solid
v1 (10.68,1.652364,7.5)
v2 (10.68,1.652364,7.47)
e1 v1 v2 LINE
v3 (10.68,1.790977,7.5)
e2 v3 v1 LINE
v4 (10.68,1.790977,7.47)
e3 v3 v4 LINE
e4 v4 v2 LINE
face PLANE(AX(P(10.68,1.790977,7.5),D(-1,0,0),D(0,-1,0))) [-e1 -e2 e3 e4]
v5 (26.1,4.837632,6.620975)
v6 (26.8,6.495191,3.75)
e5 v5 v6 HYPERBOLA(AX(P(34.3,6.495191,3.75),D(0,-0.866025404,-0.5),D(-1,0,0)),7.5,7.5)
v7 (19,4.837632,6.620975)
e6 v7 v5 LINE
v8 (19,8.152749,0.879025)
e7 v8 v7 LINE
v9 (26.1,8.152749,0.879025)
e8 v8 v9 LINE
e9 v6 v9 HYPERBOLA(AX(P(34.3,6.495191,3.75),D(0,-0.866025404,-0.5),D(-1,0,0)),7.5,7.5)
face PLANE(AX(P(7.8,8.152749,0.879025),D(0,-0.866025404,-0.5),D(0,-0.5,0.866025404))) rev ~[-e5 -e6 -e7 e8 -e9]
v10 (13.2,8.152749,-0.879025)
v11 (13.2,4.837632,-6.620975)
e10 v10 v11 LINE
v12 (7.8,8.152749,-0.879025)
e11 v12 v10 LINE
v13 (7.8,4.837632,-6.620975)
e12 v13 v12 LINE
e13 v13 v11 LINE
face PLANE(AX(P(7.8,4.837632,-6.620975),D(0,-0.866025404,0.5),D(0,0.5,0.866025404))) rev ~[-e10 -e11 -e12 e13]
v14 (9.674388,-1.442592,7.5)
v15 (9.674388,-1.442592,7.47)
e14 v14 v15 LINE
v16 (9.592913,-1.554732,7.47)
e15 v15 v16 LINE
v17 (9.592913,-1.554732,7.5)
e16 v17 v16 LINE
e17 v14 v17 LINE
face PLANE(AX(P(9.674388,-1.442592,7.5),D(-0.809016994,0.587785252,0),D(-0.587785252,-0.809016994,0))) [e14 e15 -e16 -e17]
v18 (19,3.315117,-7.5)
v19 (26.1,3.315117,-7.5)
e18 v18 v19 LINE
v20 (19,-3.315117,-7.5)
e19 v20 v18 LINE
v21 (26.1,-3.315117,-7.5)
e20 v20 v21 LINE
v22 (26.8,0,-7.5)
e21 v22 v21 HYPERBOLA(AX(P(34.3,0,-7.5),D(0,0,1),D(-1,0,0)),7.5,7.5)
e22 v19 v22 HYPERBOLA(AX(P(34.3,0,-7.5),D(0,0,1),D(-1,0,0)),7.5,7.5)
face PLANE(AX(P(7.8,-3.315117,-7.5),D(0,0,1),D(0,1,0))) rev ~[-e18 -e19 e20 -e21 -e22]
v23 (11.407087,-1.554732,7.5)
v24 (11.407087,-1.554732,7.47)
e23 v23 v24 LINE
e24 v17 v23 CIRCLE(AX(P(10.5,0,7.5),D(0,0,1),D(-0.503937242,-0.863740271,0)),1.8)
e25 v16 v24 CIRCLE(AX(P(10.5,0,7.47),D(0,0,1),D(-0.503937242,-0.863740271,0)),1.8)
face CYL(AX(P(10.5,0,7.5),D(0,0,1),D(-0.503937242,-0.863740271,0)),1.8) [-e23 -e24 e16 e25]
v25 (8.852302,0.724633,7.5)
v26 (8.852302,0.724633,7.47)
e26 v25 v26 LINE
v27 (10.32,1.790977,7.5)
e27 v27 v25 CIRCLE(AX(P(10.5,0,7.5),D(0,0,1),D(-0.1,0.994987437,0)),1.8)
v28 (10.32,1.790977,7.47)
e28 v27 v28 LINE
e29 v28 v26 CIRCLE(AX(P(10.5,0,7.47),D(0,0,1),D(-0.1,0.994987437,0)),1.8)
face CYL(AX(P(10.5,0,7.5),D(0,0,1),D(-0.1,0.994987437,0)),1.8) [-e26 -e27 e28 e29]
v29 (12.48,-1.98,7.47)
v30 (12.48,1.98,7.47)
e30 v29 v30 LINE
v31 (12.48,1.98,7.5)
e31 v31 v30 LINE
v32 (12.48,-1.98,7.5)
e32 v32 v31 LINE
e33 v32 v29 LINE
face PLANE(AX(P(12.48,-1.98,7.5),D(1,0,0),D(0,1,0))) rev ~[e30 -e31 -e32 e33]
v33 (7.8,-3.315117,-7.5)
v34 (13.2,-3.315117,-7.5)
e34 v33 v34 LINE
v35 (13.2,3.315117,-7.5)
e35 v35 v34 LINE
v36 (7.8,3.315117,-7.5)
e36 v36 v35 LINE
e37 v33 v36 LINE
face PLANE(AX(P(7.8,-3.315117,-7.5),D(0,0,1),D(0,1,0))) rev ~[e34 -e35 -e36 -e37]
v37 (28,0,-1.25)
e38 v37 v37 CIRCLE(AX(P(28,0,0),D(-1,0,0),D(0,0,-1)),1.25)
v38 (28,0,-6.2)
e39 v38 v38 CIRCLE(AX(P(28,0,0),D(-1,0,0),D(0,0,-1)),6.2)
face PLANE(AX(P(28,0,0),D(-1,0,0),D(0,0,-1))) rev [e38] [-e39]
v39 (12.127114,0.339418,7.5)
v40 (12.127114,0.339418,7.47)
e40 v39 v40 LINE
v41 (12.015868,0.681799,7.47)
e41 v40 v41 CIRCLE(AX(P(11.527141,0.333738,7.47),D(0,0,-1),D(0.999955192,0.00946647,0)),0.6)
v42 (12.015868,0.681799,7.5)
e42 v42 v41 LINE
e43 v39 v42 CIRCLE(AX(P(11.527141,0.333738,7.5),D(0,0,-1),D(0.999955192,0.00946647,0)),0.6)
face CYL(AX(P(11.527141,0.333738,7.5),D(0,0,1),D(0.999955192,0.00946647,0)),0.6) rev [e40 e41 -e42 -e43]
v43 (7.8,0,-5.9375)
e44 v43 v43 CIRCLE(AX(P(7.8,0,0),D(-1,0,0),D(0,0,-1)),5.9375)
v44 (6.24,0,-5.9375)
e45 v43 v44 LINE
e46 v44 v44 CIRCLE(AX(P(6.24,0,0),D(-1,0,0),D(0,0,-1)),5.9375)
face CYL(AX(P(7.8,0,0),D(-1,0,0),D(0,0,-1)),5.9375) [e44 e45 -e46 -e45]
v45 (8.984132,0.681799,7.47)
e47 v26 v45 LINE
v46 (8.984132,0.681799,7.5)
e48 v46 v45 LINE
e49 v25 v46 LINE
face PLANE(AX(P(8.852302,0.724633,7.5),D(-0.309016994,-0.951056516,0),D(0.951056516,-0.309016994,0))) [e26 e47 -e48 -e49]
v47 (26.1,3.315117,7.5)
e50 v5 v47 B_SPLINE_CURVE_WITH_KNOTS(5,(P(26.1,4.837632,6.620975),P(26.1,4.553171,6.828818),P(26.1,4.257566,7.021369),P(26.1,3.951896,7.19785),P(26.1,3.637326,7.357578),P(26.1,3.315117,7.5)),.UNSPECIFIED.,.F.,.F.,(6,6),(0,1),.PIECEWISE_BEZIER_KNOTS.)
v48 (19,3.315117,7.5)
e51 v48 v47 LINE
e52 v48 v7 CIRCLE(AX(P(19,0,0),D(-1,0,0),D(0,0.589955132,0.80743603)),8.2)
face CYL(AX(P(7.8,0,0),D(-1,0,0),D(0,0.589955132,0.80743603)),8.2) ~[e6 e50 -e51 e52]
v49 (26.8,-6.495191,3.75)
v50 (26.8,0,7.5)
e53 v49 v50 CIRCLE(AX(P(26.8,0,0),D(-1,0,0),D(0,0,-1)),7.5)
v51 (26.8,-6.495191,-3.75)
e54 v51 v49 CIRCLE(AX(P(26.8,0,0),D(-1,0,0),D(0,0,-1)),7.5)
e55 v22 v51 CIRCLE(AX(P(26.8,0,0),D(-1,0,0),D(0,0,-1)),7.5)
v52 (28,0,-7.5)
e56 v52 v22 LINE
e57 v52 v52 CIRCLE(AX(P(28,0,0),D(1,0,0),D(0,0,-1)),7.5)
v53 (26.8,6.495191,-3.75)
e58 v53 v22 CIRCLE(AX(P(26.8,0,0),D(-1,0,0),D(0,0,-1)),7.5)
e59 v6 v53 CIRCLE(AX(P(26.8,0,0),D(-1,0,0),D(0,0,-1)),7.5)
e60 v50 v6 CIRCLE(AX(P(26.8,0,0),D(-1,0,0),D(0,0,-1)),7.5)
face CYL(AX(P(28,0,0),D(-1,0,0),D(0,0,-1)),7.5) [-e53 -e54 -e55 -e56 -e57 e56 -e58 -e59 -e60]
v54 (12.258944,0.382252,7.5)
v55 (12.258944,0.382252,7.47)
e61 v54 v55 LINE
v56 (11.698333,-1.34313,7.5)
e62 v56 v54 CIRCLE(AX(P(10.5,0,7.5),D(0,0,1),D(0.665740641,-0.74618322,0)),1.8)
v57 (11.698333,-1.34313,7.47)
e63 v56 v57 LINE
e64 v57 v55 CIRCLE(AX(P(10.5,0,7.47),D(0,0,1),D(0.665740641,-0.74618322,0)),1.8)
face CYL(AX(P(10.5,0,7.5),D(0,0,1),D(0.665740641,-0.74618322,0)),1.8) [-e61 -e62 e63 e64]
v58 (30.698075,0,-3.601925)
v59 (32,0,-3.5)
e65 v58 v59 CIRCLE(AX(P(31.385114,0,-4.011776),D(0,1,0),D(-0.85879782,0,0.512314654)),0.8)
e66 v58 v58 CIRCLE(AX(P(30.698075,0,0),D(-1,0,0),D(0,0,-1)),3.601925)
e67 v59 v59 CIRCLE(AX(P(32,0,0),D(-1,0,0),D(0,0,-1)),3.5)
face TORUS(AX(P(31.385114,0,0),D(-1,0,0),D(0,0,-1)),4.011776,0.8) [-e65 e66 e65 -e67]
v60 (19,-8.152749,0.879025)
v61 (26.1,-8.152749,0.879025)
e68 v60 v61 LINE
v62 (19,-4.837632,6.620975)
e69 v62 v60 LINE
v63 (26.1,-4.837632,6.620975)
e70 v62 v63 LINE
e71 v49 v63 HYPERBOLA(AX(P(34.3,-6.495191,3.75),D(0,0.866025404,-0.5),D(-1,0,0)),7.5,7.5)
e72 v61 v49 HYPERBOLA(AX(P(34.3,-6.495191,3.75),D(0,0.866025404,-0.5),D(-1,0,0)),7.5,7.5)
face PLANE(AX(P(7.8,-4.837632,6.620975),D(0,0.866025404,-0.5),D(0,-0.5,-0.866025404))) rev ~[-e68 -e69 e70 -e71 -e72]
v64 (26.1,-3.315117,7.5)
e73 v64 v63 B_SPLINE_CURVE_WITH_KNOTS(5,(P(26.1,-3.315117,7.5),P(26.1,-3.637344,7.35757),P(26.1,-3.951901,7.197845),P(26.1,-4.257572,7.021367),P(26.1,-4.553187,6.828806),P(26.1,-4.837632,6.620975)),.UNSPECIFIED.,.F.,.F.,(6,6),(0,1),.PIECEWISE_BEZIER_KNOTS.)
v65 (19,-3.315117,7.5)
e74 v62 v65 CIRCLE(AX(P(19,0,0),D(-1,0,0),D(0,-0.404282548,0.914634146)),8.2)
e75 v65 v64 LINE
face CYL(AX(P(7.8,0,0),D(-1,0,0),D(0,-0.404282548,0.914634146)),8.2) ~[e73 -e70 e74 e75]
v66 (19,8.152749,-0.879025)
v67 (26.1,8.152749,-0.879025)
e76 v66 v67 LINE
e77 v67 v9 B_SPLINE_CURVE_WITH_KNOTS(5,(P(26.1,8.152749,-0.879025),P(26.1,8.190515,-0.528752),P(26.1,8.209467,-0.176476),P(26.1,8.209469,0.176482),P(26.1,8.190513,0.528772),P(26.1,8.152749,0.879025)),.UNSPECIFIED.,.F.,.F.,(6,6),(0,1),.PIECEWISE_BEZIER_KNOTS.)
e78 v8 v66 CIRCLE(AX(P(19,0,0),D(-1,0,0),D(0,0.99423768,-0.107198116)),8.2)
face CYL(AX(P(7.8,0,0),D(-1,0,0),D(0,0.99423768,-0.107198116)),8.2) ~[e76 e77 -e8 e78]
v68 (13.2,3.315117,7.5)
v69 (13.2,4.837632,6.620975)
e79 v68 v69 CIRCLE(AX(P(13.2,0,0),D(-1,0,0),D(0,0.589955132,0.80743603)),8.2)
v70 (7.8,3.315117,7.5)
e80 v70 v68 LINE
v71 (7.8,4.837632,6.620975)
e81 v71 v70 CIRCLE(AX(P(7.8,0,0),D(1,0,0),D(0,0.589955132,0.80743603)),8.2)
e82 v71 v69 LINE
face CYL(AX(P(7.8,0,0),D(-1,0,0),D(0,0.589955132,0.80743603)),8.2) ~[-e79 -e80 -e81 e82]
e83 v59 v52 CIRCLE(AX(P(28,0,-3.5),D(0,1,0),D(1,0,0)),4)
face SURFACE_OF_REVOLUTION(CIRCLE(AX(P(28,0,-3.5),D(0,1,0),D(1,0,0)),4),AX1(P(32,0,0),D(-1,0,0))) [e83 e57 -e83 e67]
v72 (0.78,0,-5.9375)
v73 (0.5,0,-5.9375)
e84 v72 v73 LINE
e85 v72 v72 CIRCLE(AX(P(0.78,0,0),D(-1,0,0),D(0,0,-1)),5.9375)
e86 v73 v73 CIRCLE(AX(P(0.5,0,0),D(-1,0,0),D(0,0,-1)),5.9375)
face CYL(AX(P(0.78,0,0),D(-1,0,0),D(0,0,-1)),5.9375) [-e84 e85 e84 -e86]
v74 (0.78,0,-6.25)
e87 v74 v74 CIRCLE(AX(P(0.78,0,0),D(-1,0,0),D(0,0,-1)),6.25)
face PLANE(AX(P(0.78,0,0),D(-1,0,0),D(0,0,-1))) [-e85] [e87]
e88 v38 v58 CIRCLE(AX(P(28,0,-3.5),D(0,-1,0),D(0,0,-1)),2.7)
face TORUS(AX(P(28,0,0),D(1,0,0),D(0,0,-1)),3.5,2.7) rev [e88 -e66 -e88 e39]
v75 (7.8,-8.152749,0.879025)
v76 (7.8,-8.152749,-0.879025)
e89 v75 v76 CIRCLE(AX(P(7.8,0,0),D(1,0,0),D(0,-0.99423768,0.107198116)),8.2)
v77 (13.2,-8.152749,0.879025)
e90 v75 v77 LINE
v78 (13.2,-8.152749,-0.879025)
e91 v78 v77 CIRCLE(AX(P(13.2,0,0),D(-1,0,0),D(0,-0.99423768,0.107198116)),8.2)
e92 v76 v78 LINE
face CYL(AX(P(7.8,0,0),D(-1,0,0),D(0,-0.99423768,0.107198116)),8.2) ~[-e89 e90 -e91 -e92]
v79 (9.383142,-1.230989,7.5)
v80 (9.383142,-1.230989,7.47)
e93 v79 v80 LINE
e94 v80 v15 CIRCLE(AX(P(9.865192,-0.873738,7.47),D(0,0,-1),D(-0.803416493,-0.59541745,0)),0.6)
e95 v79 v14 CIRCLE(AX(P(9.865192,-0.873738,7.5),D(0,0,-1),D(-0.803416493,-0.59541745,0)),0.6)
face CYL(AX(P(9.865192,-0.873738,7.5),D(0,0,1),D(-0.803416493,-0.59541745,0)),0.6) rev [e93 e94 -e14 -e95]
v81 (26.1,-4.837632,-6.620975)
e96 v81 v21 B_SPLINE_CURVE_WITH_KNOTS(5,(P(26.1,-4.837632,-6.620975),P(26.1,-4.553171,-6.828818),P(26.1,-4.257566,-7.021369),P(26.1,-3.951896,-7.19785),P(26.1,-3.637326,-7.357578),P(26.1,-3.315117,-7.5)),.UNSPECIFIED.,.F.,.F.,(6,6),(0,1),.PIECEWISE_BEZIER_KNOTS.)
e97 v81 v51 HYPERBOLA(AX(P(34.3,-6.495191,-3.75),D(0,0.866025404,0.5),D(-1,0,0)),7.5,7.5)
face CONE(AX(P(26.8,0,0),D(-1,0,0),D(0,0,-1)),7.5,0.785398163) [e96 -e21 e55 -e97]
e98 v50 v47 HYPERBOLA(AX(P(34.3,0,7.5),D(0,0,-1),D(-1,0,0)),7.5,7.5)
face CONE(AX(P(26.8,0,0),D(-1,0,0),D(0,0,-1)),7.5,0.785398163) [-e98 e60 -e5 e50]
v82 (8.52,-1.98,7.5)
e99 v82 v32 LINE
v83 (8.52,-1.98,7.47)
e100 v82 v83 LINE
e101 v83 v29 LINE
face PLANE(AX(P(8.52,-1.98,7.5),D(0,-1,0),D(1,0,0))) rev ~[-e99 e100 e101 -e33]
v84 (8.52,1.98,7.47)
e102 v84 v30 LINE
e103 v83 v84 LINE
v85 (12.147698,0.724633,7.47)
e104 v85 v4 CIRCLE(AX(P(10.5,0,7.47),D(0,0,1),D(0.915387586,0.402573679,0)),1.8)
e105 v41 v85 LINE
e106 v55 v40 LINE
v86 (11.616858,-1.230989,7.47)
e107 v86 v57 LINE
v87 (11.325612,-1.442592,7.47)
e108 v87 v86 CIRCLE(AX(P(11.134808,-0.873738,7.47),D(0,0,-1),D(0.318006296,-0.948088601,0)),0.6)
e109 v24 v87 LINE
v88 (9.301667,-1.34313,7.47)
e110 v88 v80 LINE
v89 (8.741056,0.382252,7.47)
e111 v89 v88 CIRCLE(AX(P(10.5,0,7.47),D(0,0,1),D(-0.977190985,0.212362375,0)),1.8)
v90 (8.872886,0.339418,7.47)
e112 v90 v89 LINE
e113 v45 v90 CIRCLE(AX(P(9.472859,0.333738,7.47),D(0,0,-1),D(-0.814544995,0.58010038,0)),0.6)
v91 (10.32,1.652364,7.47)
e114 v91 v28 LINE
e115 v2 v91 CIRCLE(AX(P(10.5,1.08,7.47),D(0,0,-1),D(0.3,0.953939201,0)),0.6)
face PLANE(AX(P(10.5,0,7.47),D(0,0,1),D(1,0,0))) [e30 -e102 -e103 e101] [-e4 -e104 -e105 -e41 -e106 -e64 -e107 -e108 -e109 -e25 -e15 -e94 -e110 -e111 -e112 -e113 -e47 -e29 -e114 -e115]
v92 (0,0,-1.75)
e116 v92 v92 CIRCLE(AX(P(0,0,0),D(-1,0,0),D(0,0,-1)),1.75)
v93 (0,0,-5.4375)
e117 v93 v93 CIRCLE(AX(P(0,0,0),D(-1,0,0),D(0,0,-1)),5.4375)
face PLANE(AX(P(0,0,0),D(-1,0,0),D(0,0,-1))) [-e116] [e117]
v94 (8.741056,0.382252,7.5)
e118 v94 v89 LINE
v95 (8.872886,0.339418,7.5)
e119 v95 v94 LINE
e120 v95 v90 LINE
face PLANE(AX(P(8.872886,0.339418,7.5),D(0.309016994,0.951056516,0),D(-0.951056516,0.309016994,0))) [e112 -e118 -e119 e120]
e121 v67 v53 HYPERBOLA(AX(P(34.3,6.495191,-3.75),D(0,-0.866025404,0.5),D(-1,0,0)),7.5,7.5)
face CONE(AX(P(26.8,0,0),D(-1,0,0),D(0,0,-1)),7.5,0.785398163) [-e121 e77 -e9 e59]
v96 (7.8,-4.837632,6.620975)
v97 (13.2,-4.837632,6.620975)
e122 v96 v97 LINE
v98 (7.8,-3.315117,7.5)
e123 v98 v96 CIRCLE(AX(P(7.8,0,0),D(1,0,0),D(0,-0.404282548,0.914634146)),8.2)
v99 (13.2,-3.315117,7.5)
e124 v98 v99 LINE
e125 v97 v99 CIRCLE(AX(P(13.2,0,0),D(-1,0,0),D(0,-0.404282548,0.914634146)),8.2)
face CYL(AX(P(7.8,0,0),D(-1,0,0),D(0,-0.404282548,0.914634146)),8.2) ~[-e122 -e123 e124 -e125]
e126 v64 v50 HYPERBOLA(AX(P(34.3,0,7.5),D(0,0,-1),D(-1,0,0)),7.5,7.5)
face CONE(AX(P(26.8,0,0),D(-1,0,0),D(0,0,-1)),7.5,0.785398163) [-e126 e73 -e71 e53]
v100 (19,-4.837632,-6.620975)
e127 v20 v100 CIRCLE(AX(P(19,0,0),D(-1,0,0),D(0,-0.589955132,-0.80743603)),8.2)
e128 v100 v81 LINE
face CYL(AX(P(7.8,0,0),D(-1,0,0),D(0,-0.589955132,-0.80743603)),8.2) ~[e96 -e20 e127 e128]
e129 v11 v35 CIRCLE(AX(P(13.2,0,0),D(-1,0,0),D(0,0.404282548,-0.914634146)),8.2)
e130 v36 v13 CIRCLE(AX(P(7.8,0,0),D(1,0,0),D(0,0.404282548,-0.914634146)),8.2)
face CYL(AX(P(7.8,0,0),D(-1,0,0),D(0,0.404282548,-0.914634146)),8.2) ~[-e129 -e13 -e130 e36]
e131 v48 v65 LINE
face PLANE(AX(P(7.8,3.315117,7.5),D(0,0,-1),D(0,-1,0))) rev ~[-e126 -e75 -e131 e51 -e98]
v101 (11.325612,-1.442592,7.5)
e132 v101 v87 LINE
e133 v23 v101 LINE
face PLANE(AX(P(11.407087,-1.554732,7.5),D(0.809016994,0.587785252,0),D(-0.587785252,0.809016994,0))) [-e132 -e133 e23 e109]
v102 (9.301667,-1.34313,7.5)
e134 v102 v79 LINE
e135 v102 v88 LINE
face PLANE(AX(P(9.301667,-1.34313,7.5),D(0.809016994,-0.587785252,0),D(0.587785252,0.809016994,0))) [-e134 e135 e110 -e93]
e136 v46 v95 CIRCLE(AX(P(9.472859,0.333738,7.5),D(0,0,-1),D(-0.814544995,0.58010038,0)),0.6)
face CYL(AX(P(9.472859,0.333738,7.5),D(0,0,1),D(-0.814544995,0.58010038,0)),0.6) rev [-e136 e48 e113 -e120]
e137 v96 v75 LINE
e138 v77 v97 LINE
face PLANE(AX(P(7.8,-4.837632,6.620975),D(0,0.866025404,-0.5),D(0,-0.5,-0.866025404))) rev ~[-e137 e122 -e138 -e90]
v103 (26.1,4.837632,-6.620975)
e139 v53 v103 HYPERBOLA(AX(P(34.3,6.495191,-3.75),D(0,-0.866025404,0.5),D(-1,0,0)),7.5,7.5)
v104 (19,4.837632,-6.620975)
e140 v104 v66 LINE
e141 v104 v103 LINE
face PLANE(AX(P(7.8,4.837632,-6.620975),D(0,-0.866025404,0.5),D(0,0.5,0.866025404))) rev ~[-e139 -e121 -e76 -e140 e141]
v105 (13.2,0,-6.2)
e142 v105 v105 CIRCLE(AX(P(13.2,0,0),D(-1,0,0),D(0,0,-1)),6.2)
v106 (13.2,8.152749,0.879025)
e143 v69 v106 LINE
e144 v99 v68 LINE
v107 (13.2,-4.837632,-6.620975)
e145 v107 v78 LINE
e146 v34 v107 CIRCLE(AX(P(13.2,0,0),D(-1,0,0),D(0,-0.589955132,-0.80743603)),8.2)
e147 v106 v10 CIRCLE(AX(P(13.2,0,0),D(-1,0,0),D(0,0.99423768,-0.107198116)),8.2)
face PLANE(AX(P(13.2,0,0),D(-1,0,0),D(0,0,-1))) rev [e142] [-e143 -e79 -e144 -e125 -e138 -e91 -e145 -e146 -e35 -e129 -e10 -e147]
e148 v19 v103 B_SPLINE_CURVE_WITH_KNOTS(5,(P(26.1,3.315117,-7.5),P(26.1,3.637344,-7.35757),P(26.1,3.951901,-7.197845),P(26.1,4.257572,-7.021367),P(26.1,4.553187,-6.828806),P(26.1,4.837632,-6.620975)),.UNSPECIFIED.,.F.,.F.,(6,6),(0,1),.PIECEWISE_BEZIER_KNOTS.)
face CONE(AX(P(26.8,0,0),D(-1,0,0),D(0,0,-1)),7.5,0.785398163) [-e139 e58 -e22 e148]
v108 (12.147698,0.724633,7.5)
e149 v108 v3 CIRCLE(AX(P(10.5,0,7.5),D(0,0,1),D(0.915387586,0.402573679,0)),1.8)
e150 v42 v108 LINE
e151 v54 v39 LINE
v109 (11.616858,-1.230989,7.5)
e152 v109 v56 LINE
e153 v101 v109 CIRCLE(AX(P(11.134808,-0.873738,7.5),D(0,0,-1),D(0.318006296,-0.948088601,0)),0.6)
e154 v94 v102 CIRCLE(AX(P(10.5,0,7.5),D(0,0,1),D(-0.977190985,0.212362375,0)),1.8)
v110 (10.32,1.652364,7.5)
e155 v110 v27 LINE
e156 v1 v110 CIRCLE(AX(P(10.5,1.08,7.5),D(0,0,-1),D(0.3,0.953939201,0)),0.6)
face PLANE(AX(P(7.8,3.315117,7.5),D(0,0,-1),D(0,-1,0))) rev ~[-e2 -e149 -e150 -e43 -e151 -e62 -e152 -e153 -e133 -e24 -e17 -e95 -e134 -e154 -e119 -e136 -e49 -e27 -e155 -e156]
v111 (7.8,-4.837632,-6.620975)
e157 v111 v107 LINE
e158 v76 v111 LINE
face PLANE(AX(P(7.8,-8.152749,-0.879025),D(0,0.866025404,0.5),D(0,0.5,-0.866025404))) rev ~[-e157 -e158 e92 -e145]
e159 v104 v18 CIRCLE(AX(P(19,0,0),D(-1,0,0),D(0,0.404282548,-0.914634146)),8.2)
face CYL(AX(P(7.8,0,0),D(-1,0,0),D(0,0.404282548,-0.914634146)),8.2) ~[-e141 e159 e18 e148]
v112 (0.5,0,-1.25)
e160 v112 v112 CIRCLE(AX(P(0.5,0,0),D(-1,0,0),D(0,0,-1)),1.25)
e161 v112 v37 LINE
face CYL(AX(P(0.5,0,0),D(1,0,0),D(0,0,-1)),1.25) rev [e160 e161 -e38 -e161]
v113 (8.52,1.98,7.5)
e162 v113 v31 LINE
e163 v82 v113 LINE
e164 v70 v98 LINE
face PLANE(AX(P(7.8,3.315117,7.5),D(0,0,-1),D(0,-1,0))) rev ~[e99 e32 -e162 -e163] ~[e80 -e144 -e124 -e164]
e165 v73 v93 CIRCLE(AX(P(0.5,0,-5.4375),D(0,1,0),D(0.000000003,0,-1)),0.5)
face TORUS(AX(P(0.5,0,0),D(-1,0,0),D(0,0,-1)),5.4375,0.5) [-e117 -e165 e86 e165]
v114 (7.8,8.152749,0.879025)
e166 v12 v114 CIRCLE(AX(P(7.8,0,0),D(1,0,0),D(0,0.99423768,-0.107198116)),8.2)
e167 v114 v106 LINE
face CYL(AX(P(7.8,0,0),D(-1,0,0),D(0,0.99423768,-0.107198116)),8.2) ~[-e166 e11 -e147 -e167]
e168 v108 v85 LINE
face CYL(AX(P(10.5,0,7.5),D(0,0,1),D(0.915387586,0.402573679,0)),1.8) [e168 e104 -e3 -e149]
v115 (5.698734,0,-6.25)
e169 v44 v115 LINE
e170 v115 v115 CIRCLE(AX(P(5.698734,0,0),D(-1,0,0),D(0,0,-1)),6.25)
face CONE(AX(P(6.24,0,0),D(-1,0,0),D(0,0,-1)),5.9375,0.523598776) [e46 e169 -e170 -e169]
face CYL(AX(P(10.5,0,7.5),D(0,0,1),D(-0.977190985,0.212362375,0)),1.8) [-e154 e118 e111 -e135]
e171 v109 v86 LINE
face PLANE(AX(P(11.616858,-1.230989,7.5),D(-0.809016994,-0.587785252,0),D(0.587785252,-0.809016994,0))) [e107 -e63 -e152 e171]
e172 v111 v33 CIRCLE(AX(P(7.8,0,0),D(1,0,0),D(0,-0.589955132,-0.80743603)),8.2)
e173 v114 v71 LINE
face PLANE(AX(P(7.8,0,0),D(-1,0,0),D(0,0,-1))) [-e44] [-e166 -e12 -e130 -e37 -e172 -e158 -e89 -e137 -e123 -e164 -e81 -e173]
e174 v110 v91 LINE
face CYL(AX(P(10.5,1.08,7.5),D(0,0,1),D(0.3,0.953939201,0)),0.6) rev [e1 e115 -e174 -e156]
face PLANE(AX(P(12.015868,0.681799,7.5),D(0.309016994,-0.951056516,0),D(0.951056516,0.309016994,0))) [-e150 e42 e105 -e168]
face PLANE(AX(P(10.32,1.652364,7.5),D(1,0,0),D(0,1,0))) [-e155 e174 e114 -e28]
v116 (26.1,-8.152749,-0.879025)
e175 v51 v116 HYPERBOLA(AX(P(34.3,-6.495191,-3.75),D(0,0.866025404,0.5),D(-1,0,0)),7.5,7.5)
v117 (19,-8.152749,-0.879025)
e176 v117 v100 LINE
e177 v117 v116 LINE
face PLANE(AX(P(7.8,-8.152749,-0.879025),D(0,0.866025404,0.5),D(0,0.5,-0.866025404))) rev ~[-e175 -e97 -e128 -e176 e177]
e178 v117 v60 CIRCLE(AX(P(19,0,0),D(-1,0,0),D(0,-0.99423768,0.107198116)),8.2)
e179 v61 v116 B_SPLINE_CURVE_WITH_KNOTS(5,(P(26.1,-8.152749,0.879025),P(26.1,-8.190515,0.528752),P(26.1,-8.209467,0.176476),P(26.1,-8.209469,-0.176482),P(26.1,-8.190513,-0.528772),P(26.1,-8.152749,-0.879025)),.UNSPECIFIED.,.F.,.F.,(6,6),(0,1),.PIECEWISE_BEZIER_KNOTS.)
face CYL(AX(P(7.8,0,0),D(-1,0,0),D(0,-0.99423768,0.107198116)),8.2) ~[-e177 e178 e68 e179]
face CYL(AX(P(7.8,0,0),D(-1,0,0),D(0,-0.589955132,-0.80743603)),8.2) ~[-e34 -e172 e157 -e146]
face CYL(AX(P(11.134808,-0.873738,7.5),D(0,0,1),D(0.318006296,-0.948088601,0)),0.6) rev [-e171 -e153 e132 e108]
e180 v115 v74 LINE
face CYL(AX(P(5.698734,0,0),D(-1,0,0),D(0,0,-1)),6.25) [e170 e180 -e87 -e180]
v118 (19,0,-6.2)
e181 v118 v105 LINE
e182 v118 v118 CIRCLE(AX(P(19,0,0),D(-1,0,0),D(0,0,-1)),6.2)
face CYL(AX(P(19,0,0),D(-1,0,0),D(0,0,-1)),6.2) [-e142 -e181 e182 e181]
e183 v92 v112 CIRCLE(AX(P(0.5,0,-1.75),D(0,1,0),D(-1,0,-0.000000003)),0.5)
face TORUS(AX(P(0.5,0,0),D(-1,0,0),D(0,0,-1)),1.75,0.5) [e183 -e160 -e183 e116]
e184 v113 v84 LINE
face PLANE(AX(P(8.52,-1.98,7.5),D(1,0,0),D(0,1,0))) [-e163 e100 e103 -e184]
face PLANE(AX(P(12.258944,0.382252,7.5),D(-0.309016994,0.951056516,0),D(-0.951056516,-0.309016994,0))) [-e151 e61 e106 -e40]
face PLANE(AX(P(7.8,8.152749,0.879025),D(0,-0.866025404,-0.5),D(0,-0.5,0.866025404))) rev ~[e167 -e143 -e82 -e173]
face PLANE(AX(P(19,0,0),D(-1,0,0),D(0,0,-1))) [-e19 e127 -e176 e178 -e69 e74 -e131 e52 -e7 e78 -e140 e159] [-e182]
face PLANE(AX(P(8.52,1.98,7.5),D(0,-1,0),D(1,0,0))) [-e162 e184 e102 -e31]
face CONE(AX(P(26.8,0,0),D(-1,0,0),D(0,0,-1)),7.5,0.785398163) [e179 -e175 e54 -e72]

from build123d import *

# Parameters (mm, degrees)
ESQUISSE2_W             = 30
ESQUISSE2_H             = 30
ENL_V_MAT_EXTRU_1_DEPTH = 32
ESQUISSE3_W             = 3.96
ESQUISSE3_H             = 3.96
ENL_V_MAT_EXTRU_2_DEPTH = 0.03


with BuildPart() as part:
    # Esquisse1 → Révolution1 (revolve)
    with BuildSketch(Plane.XY, mode=Mode.PRIVATE) as r_volution1_sk:
        with BuildLine():
            Line((0, 5.4375), (0, 1.75))
            ThreePointArc((0, 1.75), (0.146446609, 1.396446609), (0.5, 1.25))
            Line((0.5, 1.25), (28, 1.25))
            Line((28, 1.25), (28, 6.2))
            ThreePointArc((28, 6.2), (29.872805896, 5.444890248), (30.698075499, 3.601924501))
            ThreePointArc((30.698075499, 3.601924501), (31.322674751, 3.21421659), (32, 3.5))
            ThreePointArc((32, 3.5), (30.828427125, 6.328427125), (28, 7.5))
            Line((28, 7.5), (26.8, 7.5))
            Line((26.8, 7.5), (24.3, 10))
            Line((24.3, 10), (19, 10))
            Line((19, 10), (19, 6.2))
            Line((19, 6.2), (13.2, 6.2))
            Line((13.2, 6.2), (13.2, 10))
            Line((13.2, 10), (7.8, 10))
            Line((7.8, 10), (7.8, 5.9375))
            Line((7.8, 5.9375), (6.24, 5.9375))
            Line((6.24, 5.9375), (5.698734123, 6.25))
            Line((5.698734123, 6.25), (0.78, 6.25))
            Line((0.78, 6.25), (0.78, 5.9375))
            Line((0.78, 5.9375), (0.5, 5.9375))
            ThreePointArc((0.5, 5.9375), (0.146446609, 5.791053391), (0, 5.4375))
        make_face()
    revolve(r_volution1_sk.sketch.rotate(Axis((32, 0, 0), (-1, 0, 0)), 90), axis=Axis((32, 0, 0), (-1, 0, 0)))

    # Esquisse2 → Enlèv. mat.-Extru.1 (cut)
    with BuildSketch(Plane(origin=(7.8, 0, 0), x_dir=(0, 0, -1), z_dir=(1, 0, 0))):
        Rectangle(ESQUISSE2_W, ESQUISSE2_H)
        with BuildLine():
            Line((-7.5, 3.315116891), (-7.5, -3.315116891))
            ThreePointArc((-7.5, -3.315116891), (-7.101408311, -4.1), (-6.620975444, -4.837632083))
            Line((-6.620975444, -4.837632083), (-0.879024556, -8.152748974))
            ThreePointArc((-0.879024556, -8.152748974), (0, -8.2), (0.879024556, -8.152748974))
            Line((0.879024556, -8.152748974), (6.620975444, -4.837632083))
            ThreePointArc((6.620975444, -4.837632083), (7.101408311, -4.1), (7.5, -3.315116891))
            Line((7.5, -3.315116891), (7.5, 3.315116891))
            ThreePointArc((7.5, 3.315116891), (7.101408311, 4.1), (6.620975444, 4.837632083))
            Line((6.620975444, 4.837632083), (0.879024556, 8.152748974))
            ThreePointArc((0.879024556, 8.152748974), (0, 8.2), (-0.879024556, 8.152748974))
            Line((-0.879024556, 8.152748974), (-6.620975444, 4.837632083))
            ThreePointArc((-6.620975444, 4.837632083), (-7.101408311, 4.1), (-7.5, 3.315116891))
        make_face(mode=Mode.SUBTRACT)
    extrude(amount=ENL_V_MAT_EXTRU_1_DEPTH, mode=Mode.SUBTRACT)

    # Esquisse3 → Enlèv. mat.-Extru.2 (cut)
    with BuildSketch(Plane.XY.offset(7.5)):
        with Locations((10.5, 0)):
            Rectangle(ESQUISSE3_W, ESQUISSE3_H)
        with BuildLine():
            Line((9.301666846, -1.343129797), (9.383142032, -1.230988824))
            ThreePointArc((9.383142032, -1.230988824), (10.217863079, -0.388328157), (9.67438815, -1.442591515))
            Line((9.67438815, -1.442591515), (9.592912964, -1.554732488))
            ThreePointArc((9.592912964, -1.554732488), (10.5, -1.8), (11.407087036, -1.554732488))
            Line((11.407087036, -1.554732488), (11.32561185, -1.442591515))
            ThreePointArc((11.32561185, -1.442591515), (10.782136921, -0.388328157), (11.616857968, -1.230988824))
            Line((11.616857968, -1.230988824), (11.698333154, -1.343129797))
            ThreePointArc((11.698333154, -1.343129797), (12.211901729, -0.55623059), (12.258943773, 0.382252276))
            Line((12.258943773, 0.382252276), (12.127114153, 0.339418236))
            ThreePointArc((12.127114153, 0.339418236), (10.956507128, 0.148328157), (12.015868035, 0.681798582))
            Line((12.015868035, 0.681798582), (12.147697655, 0.724632622))
            ThreePointArc((12.147697655, 0.724632622), (11.558013454, 1.45623059), (10.68, 1.790977387))
            Line((10.68, 1.790977387), (10.68, 1.652363521))
            ThreePointArc((10.68, 1.652363521), (10.5, 0.48), (10.32, 1.652363521))
            Line((10.32, 1.652363521), (10.32, 1.790977387))
            ThreePointArc((10.32, 1.790977387), (9.441986546, 1.45623059), (8.852302345, 0.724632622))
            Line((8.852302345, 0.724632622), (8.984131965, 0.681798582))
            ThreePointArc((8.984131965, 0.681798582), (10.043492872, 0.148328157), (8.872885847, 0.339418236))
            Line((8.872885847, 0.339418236), (8.741056227, 0.382252276))
            ThreePointArc((8.741056227, 0.382252276), (8.788098271, -0.55623059), (9.301666846, -1.343129797))
        make_face(mode=Mode.SUBTRACT)
    extrude(amount=-ENL_V_MAT_EXTRU_2_DEPTH, mode=Mode.SUBTRACT)


solid = part.part
